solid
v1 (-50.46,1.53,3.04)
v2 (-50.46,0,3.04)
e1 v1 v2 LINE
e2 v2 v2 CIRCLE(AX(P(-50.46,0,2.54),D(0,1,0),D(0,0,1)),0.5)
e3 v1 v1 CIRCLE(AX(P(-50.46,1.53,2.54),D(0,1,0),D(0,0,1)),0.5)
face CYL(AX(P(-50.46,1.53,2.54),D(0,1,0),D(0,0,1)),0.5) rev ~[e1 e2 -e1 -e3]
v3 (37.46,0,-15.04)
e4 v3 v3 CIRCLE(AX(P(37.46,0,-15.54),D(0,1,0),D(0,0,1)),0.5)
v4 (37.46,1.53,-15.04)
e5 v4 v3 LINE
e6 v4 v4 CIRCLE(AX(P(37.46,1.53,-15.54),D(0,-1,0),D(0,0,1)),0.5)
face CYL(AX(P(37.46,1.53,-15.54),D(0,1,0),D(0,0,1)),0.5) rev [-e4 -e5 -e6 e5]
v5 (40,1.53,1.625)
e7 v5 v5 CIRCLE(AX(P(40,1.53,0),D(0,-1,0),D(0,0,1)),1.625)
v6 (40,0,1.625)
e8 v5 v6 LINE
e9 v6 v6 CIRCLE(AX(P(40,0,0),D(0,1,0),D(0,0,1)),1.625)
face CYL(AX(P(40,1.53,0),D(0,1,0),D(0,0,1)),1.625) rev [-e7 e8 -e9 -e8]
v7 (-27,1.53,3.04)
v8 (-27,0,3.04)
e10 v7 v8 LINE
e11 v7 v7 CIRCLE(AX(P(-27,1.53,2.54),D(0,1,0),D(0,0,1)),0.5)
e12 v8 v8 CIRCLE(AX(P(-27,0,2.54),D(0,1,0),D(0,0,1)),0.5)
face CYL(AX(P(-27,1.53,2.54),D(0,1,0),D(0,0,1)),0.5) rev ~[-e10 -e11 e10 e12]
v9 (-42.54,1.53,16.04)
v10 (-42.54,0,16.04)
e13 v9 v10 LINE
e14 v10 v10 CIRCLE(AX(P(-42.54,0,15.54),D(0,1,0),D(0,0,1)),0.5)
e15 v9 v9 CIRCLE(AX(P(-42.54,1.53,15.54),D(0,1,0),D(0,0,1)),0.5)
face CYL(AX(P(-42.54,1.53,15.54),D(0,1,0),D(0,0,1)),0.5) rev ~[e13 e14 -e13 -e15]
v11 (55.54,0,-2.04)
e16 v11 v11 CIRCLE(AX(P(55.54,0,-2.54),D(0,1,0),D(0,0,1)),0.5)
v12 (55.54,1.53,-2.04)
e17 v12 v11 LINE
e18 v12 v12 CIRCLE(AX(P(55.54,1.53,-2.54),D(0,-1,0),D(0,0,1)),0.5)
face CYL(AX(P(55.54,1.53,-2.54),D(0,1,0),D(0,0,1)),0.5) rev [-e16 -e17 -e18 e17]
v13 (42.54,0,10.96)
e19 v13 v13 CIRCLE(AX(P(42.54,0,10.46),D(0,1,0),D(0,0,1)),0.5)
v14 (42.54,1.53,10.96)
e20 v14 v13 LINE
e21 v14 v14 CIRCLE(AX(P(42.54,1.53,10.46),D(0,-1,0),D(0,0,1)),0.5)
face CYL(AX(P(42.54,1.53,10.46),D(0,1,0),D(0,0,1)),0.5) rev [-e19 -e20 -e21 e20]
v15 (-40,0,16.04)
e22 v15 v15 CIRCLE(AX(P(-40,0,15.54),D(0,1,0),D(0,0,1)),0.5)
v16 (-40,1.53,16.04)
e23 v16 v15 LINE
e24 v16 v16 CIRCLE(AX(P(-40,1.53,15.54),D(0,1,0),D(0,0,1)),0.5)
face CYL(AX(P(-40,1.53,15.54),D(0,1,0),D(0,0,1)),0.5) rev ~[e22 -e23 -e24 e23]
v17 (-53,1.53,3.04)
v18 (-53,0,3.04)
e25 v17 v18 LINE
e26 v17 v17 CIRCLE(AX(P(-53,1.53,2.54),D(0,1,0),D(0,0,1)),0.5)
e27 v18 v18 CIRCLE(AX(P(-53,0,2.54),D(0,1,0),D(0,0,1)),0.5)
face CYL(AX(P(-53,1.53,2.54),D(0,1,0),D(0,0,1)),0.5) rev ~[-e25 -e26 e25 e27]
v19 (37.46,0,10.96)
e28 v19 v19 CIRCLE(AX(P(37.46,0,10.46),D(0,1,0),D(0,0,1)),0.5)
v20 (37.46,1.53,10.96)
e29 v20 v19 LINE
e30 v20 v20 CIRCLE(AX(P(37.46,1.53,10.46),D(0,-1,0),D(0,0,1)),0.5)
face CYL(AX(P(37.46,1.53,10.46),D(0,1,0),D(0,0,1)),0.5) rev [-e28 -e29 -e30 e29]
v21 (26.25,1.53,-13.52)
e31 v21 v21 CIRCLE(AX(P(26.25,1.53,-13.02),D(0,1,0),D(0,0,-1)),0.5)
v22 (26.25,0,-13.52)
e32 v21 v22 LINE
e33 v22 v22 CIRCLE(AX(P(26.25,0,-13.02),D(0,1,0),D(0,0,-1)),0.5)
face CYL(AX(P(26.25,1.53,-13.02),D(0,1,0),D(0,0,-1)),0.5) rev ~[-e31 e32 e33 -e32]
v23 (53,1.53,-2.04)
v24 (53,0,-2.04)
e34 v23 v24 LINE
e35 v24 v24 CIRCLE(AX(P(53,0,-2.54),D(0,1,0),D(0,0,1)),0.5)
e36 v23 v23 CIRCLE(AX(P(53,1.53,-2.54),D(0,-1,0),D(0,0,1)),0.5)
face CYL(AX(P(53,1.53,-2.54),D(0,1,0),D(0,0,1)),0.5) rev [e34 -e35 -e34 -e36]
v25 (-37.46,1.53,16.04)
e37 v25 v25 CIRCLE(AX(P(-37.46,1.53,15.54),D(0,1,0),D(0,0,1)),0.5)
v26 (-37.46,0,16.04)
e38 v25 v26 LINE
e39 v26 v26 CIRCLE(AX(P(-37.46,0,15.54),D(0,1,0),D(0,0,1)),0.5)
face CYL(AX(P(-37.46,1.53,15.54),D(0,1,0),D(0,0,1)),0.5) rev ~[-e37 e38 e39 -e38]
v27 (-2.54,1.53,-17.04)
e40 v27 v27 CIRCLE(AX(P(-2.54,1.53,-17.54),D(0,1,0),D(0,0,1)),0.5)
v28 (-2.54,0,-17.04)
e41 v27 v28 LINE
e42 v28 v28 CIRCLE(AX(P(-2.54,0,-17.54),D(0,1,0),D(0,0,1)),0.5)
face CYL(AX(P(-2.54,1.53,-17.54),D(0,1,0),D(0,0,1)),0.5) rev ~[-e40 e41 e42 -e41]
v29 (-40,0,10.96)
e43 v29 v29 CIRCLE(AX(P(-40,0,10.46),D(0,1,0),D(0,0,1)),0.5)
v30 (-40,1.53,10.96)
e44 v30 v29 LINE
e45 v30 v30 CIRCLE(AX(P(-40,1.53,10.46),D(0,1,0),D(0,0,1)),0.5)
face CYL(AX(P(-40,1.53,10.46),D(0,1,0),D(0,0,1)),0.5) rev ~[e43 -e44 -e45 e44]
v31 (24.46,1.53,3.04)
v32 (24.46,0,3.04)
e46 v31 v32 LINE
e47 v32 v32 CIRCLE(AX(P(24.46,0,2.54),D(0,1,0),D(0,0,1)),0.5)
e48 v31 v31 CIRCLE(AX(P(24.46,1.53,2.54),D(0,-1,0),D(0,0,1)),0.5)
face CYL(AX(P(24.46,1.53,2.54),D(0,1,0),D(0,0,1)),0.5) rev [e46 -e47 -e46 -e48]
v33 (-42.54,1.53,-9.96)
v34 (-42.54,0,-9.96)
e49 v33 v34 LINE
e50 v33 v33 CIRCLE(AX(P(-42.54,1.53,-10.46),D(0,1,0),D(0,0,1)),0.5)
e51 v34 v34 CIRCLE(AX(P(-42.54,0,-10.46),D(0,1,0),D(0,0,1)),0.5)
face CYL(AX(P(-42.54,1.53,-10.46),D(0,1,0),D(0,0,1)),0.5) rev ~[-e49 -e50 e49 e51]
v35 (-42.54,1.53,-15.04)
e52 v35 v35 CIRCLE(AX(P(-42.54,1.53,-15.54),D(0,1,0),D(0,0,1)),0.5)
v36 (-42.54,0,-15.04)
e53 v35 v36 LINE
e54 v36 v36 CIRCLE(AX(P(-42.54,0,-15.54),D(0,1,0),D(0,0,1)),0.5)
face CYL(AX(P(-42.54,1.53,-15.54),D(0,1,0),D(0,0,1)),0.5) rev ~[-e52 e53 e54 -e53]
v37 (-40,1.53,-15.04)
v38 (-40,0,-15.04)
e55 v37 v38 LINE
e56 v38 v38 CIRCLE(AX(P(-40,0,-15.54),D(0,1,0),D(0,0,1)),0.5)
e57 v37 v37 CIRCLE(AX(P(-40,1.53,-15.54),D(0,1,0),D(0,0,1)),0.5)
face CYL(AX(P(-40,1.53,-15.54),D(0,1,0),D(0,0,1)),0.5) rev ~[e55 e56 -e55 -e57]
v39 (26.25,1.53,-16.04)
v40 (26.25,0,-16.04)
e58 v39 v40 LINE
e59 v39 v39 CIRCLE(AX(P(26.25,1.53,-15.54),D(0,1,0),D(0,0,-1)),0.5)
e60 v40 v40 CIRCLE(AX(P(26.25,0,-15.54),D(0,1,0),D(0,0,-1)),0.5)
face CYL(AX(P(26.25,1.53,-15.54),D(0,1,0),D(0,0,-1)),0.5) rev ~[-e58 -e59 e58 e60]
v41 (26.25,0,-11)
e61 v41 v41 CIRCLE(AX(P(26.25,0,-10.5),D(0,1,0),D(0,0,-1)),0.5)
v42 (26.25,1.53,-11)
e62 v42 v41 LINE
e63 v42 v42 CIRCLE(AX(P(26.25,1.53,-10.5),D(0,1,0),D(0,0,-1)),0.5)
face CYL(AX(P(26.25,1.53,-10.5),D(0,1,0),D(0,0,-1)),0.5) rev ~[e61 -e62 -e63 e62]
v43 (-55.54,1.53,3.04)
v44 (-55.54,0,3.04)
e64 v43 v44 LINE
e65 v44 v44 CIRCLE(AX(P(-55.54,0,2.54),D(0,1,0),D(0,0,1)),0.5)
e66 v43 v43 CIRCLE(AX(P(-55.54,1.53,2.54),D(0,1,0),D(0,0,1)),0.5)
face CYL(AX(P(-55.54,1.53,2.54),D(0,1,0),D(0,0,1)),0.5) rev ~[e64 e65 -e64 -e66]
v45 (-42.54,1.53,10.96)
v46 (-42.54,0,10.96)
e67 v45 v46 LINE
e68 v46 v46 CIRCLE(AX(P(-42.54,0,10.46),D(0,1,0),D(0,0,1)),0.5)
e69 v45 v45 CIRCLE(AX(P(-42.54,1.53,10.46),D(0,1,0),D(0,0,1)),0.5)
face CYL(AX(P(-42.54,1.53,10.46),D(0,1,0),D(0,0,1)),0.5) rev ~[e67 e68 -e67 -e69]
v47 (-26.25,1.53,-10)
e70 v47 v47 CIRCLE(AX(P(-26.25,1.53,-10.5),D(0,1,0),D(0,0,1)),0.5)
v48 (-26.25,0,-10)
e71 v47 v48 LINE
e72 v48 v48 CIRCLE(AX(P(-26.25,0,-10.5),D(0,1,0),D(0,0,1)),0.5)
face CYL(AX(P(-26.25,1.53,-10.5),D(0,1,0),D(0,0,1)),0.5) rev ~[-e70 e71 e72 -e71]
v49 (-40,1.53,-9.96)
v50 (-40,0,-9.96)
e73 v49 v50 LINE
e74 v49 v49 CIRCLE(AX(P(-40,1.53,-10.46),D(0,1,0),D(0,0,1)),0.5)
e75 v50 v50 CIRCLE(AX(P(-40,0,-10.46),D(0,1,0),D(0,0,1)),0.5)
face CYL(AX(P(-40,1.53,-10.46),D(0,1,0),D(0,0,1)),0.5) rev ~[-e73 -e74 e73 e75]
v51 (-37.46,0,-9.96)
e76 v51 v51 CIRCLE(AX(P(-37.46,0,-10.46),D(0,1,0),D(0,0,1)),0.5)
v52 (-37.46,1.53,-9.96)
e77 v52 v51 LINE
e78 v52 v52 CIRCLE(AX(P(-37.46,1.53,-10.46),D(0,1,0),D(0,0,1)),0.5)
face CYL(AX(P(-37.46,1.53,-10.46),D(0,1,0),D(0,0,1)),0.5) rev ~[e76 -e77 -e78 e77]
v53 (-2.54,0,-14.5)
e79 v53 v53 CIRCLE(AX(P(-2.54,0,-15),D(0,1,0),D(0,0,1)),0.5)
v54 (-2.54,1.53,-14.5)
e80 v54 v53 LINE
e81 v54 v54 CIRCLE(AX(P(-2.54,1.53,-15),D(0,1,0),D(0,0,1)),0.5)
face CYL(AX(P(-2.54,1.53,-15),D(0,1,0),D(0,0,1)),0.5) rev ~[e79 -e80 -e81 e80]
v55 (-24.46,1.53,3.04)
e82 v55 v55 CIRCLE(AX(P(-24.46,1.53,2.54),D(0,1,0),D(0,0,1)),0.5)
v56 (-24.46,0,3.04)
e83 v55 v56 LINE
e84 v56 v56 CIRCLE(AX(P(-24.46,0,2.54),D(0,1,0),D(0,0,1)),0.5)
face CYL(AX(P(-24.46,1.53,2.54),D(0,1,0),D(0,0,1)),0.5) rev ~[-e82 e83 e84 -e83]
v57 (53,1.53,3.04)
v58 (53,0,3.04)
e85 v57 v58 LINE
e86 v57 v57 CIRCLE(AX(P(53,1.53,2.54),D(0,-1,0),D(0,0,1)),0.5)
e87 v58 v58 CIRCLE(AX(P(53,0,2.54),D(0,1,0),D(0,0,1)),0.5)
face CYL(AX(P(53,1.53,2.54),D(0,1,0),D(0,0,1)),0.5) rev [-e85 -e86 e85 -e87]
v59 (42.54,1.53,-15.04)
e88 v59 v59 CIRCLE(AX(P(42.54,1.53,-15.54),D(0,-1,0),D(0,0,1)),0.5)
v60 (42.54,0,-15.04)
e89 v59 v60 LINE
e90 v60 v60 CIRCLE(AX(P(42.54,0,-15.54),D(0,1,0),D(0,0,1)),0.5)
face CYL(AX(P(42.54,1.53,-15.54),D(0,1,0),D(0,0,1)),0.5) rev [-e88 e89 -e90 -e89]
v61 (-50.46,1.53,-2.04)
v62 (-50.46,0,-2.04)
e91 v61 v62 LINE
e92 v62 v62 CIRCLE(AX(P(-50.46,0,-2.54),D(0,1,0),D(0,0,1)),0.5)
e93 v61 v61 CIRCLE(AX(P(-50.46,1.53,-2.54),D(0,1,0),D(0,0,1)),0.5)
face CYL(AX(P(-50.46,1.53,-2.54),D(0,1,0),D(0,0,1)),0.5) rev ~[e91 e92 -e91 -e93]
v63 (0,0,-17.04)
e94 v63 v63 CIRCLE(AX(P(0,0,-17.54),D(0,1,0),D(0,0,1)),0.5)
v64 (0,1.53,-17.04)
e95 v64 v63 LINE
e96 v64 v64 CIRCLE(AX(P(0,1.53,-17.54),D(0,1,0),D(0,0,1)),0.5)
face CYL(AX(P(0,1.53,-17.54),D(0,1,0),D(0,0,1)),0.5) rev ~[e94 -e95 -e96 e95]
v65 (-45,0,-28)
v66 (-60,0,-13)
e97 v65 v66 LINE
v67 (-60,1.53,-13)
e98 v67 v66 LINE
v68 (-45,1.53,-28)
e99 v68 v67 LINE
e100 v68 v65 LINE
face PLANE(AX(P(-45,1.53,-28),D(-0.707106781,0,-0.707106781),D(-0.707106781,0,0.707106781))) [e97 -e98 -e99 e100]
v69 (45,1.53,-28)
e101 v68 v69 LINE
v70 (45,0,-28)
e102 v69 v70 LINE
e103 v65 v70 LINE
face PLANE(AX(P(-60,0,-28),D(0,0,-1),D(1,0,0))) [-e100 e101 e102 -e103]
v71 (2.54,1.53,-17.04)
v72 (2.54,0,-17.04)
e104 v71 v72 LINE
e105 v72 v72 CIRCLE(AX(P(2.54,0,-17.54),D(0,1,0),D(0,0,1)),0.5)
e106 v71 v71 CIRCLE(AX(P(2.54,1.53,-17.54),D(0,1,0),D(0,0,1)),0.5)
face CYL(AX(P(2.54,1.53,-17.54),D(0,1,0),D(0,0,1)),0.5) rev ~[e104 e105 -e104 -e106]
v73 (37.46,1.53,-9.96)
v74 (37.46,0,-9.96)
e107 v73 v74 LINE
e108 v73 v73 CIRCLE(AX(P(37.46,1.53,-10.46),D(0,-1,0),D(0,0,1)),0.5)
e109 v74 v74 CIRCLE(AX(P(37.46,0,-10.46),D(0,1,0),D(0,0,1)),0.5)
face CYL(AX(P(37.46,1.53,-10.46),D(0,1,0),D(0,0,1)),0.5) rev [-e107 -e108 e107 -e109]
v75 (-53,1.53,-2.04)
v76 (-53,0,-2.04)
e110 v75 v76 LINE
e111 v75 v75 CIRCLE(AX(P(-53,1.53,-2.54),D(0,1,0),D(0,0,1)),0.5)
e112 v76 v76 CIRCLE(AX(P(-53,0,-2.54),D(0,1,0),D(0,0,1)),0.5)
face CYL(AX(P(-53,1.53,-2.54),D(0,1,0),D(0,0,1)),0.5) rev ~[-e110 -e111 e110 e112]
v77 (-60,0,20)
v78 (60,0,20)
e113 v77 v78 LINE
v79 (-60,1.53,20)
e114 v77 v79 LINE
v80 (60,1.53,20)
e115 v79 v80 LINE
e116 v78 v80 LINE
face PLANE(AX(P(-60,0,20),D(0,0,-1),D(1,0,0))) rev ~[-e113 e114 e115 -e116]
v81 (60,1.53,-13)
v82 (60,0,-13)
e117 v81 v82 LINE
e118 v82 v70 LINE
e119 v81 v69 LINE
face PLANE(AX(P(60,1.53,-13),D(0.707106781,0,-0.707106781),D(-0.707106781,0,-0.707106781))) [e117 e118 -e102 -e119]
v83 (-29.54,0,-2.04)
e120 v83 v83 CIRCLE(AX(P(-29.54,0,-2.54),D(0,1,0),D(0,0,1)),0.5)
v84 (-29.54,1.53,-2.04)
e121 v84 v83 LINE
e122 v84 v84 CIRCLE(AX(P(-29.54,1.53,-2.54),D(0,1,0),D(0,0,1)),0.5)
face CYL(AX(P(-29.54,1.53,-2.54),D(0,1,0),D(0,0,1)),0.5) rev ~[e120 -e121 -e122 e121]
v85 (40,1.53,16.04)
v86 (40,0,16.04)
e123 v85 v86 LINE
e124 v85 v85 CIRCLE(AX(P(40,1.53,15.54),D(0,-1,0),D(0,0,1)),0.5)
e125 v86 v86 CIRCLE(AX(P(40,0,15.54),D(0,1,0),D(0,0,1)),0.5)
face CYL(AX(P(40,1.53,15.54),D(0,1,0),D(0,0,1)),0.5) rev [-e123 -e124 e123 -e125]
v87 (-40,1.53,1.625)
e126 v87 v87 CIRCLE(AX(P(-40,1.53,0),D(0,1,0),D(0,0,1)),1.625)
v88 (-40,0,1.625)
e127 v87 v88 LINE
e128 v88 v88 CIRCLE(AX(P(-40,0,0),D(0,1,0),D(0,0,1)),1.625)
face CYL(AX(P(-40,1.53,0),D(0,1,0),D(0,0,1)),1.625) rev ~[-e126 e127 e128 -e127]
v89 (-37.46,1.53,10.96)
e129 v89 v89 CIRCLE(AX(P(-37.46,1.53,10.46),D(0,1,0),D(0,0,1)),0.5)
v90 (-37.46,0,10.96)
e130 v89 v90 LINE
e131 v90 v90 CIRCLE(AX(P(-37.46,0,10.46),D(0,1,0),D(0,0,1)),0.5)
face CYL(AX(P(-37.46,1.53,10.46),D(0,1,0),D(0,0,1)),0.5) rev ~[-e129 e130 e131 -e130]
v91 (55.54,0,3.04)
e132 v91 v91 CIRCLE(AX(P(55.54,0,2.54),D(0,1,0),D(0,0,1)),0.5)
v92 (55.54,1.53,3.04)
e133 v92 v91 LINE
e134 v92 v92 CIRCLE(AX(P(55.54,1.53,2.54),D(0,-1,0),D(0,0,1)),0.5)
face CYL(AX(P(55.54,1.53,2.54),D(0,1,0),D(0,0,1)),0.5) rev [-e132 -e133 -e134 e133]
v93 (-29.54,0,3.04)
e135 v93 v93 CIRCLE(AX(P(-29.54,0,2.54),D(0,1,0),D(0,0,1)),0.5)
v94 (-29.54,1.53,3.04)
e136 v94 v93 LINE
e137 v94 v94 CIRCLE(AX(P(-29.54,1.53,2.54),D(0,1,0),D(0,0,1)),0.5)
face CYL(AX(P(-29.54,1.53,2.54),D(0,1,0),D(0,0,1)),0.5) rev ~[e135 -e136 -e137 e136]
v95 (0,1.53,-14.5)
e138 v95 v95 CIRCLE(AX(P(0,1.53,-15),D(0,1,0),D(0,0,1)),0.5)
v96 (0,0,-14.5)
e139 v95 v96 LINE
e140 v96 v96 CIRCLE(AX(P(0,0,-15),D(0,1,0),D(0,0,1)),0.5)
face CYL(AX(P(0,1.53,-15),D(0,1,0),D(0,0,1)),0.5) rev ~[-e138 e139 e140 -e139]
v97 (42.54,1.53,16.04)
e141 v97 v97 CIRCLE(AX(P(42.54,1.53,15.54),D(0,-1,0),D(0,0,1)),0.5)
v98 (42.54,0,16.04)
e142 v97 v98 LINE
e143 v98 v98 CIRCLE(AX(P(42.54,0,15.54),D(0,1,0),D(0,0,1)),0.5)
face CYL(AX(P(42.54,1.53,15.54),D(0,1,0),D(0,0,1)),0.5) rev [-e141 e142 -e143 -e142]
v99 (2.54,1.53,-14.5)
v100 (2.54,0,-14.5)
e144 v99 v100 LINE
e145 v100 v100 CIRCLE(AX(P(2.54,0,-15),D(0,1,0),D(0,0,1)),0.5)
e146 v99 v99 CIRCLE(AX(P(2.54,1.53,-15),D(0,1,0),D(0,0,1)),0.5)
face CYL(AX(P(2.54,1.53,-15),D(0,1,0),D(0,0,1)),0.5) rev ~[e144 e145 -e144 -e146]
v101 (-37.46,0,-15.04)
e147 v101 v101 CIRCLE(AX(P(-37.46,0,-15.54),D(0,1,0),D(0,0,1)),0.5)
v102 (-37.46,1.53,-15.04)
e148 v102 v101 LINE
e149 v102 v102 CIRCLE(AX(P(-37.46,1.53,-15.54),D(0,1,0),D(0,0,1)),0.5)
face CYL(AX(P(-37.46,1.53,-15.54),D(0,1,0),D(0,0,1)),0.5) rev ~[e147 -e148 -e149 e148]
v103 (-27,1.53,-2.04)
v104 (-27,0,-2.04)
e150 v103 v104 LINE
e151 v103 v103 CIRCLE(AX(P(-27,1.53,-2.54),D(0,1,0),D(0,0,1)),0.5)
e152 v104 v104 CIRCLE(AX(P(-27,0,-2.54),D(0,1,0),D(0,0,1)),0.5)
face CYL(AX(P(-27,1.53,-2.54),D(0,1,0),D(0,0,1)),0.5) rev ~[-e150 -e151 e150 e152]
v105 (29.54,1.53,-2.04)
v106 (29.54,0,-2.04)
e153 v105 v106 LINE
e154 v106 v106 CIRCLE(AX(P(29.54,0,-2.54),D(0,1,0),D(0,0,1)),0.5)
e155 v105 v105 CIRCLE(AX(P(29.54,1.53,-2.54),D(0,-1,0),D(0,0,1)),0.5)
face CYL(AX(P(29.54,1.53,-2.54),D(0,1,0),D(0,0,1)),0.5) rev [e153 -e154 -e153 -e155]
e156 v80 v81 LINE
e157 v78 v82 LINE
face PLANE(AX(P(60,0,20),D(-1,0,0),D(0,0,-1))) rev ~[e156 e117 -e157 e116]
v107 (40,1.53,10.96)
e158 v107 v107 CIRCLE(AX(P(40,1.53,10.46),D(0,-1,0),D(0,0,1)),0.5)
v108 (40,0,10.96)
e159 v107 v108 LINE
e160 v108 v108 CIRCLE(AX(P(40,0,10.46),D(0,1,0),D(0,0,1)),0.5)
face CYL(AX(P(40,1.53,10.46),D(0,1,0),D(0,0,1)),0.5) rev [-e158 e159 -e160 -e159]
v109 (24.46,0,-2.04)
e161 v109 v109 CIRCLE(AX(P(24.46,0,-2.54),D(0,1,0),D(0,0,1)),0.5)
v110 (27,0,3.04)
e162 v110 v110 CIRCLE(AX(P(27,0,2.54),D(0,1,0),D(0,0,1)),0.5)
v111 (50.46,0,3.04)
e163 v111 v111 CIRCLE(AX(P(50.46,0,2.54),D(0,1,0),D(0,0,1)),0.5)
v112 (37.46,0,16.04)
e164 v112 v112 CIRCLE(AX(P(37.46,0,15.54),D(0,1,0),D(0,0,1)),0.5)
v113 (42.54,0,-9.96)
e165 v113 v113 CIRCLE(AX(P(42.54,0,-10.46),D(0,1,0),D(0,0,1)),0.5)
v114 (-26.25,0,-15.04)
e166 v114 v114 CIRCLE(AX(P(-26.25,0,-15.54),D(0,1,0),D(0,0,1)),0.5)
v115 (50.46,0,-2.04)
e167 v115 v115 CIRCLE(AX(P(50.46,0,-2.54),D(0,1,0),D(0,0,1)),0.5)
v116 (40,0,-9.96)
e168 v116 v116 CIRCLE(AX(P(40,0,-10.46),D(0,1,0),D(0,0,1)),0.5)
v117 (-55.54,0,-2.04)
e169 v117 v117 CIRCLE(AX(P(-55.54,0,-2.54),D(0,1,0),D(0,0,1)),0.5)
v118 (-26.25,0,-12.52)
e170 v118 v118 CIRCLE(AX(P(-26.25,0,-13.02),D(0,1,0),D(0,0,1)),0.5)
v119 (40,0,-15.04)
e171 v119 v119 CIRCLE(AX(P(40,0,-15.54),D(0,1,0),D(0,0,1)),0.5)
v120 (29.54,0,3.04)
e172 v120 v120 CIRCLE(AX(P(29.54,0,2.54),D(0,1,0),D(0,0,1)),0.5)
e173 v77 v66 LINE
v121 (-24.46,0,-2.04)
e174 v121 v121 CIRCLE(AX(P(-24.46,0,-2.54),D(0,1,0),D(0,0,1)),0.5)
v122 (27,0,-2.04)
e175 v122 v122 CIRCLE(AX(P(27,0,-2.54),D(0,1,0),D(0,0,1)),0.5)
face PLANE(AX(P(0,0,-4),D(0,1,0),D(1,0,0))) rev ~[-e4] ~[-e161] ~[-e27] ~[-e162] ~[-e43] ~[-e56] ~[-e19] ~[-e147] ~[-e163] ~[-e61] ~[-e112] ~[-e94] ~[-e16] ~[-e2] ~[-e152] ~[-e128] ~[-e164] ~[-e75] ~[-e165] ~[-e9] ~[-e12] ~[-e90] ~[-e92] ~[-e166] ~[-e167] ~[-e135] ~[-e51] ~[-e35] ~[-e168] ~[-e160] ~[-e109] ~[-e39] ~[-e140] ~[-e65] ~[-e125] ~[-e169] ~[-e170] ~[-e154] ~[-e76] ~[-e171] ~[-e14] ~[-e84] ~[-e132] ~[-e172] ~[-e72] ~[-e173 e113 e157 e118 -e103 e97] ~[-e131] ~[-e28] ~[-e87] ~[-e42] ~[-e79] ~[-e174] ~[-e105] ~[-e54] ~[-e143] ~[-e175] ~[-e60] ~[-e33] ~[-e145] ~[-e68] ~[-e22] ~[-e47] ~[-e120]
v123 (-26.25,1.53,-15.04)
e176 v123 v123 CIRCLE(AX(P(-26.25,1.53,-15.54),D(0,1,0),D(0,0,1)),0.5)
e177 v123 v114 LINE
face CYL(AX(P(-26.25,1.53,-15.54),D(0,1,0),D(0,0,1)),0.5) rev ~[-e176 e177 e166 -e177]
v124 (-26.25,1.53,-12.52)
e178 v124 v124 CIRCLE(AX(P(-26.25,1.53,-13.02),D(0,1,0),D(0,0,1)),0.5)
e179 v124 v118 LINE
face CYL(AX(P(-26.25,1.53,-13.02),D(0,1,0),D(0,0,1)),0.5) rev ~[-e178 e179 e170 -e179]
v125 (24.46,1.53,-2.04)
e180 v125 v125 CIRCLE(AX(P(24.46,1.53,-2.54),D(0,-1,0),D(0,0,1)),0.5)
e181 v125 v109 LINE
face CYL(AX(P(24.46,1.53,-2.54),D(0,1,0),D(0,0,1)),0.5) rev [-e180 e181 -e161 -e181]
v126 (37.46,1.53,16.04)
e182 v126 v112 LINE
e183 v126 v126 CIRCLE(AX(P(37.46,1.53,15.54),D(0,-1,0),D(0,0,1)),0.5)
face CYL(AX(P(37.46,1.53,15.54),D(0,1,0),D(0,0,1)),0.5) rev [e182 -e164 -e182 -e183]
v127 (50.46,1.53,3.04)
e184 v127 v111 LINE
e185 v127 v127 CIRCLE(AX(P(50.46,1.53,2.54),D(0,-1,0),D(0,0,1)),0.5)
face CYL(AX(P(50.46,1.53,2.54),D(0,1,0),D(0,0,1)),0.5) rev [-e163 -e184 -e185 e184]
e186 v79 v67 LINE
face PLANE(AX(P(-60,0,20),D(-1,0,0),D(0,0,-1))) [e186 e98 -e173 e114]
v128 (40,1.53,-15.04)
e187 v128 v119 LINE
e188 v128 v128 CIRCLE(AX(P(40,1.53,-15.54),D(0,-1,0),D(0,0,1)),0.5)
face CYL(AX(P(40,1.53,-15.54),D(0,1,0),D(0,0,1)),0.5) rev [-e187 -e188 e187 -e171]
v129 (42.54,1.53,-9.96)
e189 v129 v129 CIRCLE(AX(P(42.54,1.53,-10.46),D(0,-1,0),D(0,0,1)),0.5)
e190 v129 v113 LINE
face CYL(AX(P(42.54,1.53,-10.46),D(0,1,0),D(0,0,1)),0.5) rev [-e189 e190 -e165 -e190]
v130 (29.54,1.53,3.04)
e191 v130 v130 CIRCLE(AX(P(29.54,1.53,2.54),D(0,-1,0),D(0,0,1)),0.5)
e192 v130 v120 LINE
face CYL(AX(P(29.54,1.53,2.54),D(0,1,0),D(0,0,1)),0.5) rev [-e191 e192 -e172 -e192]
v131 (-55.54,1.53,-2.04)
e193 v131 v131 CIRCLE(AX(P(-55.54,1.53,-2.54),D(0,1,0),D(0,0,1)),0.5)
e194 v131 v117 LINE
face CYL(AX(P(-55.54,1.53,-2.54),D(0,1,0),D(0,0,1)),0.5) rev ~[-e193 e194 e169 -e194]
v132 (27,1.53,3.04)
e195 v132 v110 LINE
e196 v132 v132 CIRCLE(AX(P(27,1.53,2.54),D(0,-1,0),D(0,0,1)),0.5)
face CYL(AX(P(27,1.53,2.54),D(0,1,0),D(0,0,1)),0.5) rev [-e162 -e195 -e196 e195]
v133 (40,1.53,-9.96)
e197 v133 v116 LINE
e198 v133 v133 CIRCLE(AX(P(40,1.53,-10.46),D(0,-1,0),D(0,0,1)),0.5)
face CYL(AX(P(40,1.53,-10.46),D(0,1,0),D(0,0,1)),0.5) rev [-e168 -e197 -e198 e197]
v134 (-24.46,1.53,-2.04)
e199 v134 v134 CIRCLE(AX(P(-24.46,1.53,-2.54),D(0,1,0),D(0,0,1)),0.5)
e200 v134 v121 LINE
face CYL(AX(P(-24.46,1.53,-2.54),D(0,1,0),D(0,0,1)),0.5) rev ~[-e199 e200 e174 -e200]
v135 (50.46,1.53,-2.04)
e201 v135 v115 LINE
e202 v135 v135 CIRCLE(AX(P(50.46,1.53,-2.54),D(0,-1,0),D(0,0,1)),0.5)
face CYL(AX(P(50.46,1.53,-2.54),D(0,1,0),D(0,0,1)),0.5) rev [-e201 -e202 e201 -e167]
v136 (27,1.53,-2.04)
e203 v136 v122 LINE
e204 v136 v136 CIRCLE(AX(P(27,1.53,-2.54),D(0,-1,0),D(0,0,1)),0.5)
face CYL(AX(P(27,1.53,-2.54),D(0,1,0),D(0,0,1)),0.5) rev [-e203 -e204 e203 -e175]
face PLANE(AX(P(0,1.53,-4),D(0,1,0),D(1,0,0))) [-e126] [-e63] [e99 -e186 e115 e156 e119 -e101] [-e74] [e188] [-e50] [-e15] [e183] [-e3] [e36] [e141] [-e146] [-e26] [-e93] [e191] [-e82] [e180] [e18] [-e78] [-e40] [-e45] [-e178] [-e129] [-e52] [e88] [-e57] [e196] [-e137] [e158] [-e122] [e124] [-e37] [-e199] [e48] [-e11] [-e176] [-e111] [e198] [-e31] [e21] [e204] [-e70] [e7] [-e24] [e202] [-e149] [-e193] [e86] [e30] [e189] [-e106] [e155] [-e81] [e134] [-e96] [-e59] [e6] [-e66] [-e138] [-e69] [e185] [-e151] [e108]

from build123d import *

# Parameters (mm, degrees)
SKETCH1_W           = 120
SKETCH1_H           = 48
BOSS_EXTRUDE1_DEPTH = 1.53
SKETCH2_R           = 0.5
SKETCH2_R_2         = 1.625
CUT_EXTRUDE1_DEPTH  = 67.229456437
SKETCH5_R           = 0.5
CUT_EXTRUDE2_DEPTH  = 67.229456437
CUT_EXTRUDE4_DEPTH  = 67.229456437
SKETCH7_R           = 0.5
CUT_EXTRUDE5_DEPTH  = 67.229456437


with BuildPart() as part:
    # Sketch1 → Boss-Extrude1 (new body)
    with BuildSketch(Plane(origin=(0, 0, 0), x_dir=(1, 0, 0), z_dir=(0, 1, 0))):
        with Locations((0, 4)):
            Rectangle(SKETCH1_W, SKETCH1_H)
    extrude(amount=BOSS_EXTRUDE1_DEPTH)

    # Sketch2 → Cut-Extrude1 (cut, through all)
    with BuildSketch(Plane(origin=(0, 1.53, 0), x_dir=(1, 0, 0), z_dir=(0, 1, 0))):
        with Locations((-55.54, 2.54)):
            Circle(SKETCH2_R)
        with Locations((-53, 2.54)):
            Circle(SKETCH2_R)
        with Locations((-50.46, 2.54)):
            Circle(SKETCH2_R)
        with Locations((-55.54, -2.54)):
            Circle(SKETCH2_R)
        with Locations((-53, -2.54)):
            Circle(SKETCH2_R)
        with Locations((-50.46, -2.54)):
            Circle(SKETCH2_R)
        with Locations((-29.54, 2.54)):
            Circle(SKETCH2_R)
        with Locations((-27, 2.54)):
            Circle(SKETCH2_R)
        with Locations((-24.46, 2.54)):
            Circle(SKETCH2_R)
        with Locations((-29.54, -2.54)):
            Circle(SKETCH2_R)
        with Locations((-27, -2.54)):
            Circle(SKETCH2_R)
        with Locations((-24.46, -2.54)):
            Circle(SKETCH2_R)
        with Locations((-42.54, 15.54)):
            Circle(SKETCH2_R)
        with Locations((-40, 15.54)):
            Circle(SKETCH2_R)
        with Locations((-37.46, 15.54)):
            Circle(SKETCH2_R)
        with Locations((-42.54, 10.46)):
            Circle(SKETCH2_R)
        with Locations((-40, 10.46)):
            Circle(SKETCH2_R)
        with Locations((-37.46, 10.46)):
            Circle(SKETCH2_R)
        with Locations((-42.54, -10.46)):
            Circle(SKETCH2_R)
        with Locations((-40, -10.46)):
            Circle(SKETCH2_R)
        with Locations((-37.46, -10.46)):
            Circle(SKETCH2_R)
        with Locations((-42.54, -15.54)):
            Circle(SKETCH2_R)
        with Locations((-40, -15.54)):
            Circle(SKETCH2_R)
        with Locations((-37.46, -15.54)):
            Circle(SKETCH2_R)
        with Locations((-40, 0)):
            Circle(SKETCH2_R_2)
    cut_extrude1 = extrude(amount=-CUT_EXTRUDE1_DEPTH, mode=Mode.SUBTRACT)

    # Mirror1: Cut-Extrude1 across plane
    add(cut_extrude1.mirror(Plane(origin=(0, 0, 0), x_dir=(0, 0, 1), z_dir=(1, 0, 0))), mode=Mode.SUBTRACT)

    # Sketch5 → Cut-Extrude2 (cut, through all)
    with BuildSketch(Plane(origin=(0, 1.53, 0), x_dir=(1, 0, 0), z_dir=(0, 1, 0))):
        with Locations((-2.54, 17.54)):
            Circle(SKETCH5_R)
        with Locations((0, 17.54)):
            Circle(SKETCH5_R)
        with Locations((2.54, 17.54)):
            Circle(SKETCH5_R)
        with Locations((-2.54, 15)):
            Circle(SKETCH5_R)
        with Locations((0, 15)):
            Circle(SKETCH5_R)
        with Locations((2.54, 15)):
            Circle(SKETCH5_R)
    extrude(amount=-CUT_EXTRUDE2_DEPTH, mode=Mode.SUBTRACT)

    # Sketch6 → Cut-Extrude4 (cut, through all)
    with BuildSketch(Plane(origin=(0, 1.53, 0), x_dir=(1, 0, 0), z_dir=(0, 1, 0))):
        Polygon((-60, 28), (-45, 28), (-60, 13), align=None)
        Polygon((60, 28), (60, 13), (45, 28), align=None)
    extrude(amount=-CUT_EXTRUDE4_DEPTH, mode=Mode.SUBTRACT)

    # Sketch7 → Cut-Extrude5 (cut, through all)
    with BuildSketch(Plane(origin=(0, 1.53, 0), x_dir=(1, 0, 0), z_dir=(0, 1, 0))):
        with Locations((-26.25, 15.54)):
            Circle(SKETCH7_R)
        with Locations((-26.25, 13.02)):
            Circle(SKETCH7_R)
        with Locations((-26.25, 10.5)):
            Circle(SKETCH7_R)
        with Locations((26.25, 10.5)):
            Circle(SKETCH7_R)
        with Locations((26.25, 13.02)):
            Circle(SKETCH7_R)
        with Locations((26.25, 15.54)):
            Circle(SKETCH7_R)
    extrude(amount=-CUT_EXTRUDE5_DEPTH, mode=Mode.SUBTRACT)


solid = part.part
